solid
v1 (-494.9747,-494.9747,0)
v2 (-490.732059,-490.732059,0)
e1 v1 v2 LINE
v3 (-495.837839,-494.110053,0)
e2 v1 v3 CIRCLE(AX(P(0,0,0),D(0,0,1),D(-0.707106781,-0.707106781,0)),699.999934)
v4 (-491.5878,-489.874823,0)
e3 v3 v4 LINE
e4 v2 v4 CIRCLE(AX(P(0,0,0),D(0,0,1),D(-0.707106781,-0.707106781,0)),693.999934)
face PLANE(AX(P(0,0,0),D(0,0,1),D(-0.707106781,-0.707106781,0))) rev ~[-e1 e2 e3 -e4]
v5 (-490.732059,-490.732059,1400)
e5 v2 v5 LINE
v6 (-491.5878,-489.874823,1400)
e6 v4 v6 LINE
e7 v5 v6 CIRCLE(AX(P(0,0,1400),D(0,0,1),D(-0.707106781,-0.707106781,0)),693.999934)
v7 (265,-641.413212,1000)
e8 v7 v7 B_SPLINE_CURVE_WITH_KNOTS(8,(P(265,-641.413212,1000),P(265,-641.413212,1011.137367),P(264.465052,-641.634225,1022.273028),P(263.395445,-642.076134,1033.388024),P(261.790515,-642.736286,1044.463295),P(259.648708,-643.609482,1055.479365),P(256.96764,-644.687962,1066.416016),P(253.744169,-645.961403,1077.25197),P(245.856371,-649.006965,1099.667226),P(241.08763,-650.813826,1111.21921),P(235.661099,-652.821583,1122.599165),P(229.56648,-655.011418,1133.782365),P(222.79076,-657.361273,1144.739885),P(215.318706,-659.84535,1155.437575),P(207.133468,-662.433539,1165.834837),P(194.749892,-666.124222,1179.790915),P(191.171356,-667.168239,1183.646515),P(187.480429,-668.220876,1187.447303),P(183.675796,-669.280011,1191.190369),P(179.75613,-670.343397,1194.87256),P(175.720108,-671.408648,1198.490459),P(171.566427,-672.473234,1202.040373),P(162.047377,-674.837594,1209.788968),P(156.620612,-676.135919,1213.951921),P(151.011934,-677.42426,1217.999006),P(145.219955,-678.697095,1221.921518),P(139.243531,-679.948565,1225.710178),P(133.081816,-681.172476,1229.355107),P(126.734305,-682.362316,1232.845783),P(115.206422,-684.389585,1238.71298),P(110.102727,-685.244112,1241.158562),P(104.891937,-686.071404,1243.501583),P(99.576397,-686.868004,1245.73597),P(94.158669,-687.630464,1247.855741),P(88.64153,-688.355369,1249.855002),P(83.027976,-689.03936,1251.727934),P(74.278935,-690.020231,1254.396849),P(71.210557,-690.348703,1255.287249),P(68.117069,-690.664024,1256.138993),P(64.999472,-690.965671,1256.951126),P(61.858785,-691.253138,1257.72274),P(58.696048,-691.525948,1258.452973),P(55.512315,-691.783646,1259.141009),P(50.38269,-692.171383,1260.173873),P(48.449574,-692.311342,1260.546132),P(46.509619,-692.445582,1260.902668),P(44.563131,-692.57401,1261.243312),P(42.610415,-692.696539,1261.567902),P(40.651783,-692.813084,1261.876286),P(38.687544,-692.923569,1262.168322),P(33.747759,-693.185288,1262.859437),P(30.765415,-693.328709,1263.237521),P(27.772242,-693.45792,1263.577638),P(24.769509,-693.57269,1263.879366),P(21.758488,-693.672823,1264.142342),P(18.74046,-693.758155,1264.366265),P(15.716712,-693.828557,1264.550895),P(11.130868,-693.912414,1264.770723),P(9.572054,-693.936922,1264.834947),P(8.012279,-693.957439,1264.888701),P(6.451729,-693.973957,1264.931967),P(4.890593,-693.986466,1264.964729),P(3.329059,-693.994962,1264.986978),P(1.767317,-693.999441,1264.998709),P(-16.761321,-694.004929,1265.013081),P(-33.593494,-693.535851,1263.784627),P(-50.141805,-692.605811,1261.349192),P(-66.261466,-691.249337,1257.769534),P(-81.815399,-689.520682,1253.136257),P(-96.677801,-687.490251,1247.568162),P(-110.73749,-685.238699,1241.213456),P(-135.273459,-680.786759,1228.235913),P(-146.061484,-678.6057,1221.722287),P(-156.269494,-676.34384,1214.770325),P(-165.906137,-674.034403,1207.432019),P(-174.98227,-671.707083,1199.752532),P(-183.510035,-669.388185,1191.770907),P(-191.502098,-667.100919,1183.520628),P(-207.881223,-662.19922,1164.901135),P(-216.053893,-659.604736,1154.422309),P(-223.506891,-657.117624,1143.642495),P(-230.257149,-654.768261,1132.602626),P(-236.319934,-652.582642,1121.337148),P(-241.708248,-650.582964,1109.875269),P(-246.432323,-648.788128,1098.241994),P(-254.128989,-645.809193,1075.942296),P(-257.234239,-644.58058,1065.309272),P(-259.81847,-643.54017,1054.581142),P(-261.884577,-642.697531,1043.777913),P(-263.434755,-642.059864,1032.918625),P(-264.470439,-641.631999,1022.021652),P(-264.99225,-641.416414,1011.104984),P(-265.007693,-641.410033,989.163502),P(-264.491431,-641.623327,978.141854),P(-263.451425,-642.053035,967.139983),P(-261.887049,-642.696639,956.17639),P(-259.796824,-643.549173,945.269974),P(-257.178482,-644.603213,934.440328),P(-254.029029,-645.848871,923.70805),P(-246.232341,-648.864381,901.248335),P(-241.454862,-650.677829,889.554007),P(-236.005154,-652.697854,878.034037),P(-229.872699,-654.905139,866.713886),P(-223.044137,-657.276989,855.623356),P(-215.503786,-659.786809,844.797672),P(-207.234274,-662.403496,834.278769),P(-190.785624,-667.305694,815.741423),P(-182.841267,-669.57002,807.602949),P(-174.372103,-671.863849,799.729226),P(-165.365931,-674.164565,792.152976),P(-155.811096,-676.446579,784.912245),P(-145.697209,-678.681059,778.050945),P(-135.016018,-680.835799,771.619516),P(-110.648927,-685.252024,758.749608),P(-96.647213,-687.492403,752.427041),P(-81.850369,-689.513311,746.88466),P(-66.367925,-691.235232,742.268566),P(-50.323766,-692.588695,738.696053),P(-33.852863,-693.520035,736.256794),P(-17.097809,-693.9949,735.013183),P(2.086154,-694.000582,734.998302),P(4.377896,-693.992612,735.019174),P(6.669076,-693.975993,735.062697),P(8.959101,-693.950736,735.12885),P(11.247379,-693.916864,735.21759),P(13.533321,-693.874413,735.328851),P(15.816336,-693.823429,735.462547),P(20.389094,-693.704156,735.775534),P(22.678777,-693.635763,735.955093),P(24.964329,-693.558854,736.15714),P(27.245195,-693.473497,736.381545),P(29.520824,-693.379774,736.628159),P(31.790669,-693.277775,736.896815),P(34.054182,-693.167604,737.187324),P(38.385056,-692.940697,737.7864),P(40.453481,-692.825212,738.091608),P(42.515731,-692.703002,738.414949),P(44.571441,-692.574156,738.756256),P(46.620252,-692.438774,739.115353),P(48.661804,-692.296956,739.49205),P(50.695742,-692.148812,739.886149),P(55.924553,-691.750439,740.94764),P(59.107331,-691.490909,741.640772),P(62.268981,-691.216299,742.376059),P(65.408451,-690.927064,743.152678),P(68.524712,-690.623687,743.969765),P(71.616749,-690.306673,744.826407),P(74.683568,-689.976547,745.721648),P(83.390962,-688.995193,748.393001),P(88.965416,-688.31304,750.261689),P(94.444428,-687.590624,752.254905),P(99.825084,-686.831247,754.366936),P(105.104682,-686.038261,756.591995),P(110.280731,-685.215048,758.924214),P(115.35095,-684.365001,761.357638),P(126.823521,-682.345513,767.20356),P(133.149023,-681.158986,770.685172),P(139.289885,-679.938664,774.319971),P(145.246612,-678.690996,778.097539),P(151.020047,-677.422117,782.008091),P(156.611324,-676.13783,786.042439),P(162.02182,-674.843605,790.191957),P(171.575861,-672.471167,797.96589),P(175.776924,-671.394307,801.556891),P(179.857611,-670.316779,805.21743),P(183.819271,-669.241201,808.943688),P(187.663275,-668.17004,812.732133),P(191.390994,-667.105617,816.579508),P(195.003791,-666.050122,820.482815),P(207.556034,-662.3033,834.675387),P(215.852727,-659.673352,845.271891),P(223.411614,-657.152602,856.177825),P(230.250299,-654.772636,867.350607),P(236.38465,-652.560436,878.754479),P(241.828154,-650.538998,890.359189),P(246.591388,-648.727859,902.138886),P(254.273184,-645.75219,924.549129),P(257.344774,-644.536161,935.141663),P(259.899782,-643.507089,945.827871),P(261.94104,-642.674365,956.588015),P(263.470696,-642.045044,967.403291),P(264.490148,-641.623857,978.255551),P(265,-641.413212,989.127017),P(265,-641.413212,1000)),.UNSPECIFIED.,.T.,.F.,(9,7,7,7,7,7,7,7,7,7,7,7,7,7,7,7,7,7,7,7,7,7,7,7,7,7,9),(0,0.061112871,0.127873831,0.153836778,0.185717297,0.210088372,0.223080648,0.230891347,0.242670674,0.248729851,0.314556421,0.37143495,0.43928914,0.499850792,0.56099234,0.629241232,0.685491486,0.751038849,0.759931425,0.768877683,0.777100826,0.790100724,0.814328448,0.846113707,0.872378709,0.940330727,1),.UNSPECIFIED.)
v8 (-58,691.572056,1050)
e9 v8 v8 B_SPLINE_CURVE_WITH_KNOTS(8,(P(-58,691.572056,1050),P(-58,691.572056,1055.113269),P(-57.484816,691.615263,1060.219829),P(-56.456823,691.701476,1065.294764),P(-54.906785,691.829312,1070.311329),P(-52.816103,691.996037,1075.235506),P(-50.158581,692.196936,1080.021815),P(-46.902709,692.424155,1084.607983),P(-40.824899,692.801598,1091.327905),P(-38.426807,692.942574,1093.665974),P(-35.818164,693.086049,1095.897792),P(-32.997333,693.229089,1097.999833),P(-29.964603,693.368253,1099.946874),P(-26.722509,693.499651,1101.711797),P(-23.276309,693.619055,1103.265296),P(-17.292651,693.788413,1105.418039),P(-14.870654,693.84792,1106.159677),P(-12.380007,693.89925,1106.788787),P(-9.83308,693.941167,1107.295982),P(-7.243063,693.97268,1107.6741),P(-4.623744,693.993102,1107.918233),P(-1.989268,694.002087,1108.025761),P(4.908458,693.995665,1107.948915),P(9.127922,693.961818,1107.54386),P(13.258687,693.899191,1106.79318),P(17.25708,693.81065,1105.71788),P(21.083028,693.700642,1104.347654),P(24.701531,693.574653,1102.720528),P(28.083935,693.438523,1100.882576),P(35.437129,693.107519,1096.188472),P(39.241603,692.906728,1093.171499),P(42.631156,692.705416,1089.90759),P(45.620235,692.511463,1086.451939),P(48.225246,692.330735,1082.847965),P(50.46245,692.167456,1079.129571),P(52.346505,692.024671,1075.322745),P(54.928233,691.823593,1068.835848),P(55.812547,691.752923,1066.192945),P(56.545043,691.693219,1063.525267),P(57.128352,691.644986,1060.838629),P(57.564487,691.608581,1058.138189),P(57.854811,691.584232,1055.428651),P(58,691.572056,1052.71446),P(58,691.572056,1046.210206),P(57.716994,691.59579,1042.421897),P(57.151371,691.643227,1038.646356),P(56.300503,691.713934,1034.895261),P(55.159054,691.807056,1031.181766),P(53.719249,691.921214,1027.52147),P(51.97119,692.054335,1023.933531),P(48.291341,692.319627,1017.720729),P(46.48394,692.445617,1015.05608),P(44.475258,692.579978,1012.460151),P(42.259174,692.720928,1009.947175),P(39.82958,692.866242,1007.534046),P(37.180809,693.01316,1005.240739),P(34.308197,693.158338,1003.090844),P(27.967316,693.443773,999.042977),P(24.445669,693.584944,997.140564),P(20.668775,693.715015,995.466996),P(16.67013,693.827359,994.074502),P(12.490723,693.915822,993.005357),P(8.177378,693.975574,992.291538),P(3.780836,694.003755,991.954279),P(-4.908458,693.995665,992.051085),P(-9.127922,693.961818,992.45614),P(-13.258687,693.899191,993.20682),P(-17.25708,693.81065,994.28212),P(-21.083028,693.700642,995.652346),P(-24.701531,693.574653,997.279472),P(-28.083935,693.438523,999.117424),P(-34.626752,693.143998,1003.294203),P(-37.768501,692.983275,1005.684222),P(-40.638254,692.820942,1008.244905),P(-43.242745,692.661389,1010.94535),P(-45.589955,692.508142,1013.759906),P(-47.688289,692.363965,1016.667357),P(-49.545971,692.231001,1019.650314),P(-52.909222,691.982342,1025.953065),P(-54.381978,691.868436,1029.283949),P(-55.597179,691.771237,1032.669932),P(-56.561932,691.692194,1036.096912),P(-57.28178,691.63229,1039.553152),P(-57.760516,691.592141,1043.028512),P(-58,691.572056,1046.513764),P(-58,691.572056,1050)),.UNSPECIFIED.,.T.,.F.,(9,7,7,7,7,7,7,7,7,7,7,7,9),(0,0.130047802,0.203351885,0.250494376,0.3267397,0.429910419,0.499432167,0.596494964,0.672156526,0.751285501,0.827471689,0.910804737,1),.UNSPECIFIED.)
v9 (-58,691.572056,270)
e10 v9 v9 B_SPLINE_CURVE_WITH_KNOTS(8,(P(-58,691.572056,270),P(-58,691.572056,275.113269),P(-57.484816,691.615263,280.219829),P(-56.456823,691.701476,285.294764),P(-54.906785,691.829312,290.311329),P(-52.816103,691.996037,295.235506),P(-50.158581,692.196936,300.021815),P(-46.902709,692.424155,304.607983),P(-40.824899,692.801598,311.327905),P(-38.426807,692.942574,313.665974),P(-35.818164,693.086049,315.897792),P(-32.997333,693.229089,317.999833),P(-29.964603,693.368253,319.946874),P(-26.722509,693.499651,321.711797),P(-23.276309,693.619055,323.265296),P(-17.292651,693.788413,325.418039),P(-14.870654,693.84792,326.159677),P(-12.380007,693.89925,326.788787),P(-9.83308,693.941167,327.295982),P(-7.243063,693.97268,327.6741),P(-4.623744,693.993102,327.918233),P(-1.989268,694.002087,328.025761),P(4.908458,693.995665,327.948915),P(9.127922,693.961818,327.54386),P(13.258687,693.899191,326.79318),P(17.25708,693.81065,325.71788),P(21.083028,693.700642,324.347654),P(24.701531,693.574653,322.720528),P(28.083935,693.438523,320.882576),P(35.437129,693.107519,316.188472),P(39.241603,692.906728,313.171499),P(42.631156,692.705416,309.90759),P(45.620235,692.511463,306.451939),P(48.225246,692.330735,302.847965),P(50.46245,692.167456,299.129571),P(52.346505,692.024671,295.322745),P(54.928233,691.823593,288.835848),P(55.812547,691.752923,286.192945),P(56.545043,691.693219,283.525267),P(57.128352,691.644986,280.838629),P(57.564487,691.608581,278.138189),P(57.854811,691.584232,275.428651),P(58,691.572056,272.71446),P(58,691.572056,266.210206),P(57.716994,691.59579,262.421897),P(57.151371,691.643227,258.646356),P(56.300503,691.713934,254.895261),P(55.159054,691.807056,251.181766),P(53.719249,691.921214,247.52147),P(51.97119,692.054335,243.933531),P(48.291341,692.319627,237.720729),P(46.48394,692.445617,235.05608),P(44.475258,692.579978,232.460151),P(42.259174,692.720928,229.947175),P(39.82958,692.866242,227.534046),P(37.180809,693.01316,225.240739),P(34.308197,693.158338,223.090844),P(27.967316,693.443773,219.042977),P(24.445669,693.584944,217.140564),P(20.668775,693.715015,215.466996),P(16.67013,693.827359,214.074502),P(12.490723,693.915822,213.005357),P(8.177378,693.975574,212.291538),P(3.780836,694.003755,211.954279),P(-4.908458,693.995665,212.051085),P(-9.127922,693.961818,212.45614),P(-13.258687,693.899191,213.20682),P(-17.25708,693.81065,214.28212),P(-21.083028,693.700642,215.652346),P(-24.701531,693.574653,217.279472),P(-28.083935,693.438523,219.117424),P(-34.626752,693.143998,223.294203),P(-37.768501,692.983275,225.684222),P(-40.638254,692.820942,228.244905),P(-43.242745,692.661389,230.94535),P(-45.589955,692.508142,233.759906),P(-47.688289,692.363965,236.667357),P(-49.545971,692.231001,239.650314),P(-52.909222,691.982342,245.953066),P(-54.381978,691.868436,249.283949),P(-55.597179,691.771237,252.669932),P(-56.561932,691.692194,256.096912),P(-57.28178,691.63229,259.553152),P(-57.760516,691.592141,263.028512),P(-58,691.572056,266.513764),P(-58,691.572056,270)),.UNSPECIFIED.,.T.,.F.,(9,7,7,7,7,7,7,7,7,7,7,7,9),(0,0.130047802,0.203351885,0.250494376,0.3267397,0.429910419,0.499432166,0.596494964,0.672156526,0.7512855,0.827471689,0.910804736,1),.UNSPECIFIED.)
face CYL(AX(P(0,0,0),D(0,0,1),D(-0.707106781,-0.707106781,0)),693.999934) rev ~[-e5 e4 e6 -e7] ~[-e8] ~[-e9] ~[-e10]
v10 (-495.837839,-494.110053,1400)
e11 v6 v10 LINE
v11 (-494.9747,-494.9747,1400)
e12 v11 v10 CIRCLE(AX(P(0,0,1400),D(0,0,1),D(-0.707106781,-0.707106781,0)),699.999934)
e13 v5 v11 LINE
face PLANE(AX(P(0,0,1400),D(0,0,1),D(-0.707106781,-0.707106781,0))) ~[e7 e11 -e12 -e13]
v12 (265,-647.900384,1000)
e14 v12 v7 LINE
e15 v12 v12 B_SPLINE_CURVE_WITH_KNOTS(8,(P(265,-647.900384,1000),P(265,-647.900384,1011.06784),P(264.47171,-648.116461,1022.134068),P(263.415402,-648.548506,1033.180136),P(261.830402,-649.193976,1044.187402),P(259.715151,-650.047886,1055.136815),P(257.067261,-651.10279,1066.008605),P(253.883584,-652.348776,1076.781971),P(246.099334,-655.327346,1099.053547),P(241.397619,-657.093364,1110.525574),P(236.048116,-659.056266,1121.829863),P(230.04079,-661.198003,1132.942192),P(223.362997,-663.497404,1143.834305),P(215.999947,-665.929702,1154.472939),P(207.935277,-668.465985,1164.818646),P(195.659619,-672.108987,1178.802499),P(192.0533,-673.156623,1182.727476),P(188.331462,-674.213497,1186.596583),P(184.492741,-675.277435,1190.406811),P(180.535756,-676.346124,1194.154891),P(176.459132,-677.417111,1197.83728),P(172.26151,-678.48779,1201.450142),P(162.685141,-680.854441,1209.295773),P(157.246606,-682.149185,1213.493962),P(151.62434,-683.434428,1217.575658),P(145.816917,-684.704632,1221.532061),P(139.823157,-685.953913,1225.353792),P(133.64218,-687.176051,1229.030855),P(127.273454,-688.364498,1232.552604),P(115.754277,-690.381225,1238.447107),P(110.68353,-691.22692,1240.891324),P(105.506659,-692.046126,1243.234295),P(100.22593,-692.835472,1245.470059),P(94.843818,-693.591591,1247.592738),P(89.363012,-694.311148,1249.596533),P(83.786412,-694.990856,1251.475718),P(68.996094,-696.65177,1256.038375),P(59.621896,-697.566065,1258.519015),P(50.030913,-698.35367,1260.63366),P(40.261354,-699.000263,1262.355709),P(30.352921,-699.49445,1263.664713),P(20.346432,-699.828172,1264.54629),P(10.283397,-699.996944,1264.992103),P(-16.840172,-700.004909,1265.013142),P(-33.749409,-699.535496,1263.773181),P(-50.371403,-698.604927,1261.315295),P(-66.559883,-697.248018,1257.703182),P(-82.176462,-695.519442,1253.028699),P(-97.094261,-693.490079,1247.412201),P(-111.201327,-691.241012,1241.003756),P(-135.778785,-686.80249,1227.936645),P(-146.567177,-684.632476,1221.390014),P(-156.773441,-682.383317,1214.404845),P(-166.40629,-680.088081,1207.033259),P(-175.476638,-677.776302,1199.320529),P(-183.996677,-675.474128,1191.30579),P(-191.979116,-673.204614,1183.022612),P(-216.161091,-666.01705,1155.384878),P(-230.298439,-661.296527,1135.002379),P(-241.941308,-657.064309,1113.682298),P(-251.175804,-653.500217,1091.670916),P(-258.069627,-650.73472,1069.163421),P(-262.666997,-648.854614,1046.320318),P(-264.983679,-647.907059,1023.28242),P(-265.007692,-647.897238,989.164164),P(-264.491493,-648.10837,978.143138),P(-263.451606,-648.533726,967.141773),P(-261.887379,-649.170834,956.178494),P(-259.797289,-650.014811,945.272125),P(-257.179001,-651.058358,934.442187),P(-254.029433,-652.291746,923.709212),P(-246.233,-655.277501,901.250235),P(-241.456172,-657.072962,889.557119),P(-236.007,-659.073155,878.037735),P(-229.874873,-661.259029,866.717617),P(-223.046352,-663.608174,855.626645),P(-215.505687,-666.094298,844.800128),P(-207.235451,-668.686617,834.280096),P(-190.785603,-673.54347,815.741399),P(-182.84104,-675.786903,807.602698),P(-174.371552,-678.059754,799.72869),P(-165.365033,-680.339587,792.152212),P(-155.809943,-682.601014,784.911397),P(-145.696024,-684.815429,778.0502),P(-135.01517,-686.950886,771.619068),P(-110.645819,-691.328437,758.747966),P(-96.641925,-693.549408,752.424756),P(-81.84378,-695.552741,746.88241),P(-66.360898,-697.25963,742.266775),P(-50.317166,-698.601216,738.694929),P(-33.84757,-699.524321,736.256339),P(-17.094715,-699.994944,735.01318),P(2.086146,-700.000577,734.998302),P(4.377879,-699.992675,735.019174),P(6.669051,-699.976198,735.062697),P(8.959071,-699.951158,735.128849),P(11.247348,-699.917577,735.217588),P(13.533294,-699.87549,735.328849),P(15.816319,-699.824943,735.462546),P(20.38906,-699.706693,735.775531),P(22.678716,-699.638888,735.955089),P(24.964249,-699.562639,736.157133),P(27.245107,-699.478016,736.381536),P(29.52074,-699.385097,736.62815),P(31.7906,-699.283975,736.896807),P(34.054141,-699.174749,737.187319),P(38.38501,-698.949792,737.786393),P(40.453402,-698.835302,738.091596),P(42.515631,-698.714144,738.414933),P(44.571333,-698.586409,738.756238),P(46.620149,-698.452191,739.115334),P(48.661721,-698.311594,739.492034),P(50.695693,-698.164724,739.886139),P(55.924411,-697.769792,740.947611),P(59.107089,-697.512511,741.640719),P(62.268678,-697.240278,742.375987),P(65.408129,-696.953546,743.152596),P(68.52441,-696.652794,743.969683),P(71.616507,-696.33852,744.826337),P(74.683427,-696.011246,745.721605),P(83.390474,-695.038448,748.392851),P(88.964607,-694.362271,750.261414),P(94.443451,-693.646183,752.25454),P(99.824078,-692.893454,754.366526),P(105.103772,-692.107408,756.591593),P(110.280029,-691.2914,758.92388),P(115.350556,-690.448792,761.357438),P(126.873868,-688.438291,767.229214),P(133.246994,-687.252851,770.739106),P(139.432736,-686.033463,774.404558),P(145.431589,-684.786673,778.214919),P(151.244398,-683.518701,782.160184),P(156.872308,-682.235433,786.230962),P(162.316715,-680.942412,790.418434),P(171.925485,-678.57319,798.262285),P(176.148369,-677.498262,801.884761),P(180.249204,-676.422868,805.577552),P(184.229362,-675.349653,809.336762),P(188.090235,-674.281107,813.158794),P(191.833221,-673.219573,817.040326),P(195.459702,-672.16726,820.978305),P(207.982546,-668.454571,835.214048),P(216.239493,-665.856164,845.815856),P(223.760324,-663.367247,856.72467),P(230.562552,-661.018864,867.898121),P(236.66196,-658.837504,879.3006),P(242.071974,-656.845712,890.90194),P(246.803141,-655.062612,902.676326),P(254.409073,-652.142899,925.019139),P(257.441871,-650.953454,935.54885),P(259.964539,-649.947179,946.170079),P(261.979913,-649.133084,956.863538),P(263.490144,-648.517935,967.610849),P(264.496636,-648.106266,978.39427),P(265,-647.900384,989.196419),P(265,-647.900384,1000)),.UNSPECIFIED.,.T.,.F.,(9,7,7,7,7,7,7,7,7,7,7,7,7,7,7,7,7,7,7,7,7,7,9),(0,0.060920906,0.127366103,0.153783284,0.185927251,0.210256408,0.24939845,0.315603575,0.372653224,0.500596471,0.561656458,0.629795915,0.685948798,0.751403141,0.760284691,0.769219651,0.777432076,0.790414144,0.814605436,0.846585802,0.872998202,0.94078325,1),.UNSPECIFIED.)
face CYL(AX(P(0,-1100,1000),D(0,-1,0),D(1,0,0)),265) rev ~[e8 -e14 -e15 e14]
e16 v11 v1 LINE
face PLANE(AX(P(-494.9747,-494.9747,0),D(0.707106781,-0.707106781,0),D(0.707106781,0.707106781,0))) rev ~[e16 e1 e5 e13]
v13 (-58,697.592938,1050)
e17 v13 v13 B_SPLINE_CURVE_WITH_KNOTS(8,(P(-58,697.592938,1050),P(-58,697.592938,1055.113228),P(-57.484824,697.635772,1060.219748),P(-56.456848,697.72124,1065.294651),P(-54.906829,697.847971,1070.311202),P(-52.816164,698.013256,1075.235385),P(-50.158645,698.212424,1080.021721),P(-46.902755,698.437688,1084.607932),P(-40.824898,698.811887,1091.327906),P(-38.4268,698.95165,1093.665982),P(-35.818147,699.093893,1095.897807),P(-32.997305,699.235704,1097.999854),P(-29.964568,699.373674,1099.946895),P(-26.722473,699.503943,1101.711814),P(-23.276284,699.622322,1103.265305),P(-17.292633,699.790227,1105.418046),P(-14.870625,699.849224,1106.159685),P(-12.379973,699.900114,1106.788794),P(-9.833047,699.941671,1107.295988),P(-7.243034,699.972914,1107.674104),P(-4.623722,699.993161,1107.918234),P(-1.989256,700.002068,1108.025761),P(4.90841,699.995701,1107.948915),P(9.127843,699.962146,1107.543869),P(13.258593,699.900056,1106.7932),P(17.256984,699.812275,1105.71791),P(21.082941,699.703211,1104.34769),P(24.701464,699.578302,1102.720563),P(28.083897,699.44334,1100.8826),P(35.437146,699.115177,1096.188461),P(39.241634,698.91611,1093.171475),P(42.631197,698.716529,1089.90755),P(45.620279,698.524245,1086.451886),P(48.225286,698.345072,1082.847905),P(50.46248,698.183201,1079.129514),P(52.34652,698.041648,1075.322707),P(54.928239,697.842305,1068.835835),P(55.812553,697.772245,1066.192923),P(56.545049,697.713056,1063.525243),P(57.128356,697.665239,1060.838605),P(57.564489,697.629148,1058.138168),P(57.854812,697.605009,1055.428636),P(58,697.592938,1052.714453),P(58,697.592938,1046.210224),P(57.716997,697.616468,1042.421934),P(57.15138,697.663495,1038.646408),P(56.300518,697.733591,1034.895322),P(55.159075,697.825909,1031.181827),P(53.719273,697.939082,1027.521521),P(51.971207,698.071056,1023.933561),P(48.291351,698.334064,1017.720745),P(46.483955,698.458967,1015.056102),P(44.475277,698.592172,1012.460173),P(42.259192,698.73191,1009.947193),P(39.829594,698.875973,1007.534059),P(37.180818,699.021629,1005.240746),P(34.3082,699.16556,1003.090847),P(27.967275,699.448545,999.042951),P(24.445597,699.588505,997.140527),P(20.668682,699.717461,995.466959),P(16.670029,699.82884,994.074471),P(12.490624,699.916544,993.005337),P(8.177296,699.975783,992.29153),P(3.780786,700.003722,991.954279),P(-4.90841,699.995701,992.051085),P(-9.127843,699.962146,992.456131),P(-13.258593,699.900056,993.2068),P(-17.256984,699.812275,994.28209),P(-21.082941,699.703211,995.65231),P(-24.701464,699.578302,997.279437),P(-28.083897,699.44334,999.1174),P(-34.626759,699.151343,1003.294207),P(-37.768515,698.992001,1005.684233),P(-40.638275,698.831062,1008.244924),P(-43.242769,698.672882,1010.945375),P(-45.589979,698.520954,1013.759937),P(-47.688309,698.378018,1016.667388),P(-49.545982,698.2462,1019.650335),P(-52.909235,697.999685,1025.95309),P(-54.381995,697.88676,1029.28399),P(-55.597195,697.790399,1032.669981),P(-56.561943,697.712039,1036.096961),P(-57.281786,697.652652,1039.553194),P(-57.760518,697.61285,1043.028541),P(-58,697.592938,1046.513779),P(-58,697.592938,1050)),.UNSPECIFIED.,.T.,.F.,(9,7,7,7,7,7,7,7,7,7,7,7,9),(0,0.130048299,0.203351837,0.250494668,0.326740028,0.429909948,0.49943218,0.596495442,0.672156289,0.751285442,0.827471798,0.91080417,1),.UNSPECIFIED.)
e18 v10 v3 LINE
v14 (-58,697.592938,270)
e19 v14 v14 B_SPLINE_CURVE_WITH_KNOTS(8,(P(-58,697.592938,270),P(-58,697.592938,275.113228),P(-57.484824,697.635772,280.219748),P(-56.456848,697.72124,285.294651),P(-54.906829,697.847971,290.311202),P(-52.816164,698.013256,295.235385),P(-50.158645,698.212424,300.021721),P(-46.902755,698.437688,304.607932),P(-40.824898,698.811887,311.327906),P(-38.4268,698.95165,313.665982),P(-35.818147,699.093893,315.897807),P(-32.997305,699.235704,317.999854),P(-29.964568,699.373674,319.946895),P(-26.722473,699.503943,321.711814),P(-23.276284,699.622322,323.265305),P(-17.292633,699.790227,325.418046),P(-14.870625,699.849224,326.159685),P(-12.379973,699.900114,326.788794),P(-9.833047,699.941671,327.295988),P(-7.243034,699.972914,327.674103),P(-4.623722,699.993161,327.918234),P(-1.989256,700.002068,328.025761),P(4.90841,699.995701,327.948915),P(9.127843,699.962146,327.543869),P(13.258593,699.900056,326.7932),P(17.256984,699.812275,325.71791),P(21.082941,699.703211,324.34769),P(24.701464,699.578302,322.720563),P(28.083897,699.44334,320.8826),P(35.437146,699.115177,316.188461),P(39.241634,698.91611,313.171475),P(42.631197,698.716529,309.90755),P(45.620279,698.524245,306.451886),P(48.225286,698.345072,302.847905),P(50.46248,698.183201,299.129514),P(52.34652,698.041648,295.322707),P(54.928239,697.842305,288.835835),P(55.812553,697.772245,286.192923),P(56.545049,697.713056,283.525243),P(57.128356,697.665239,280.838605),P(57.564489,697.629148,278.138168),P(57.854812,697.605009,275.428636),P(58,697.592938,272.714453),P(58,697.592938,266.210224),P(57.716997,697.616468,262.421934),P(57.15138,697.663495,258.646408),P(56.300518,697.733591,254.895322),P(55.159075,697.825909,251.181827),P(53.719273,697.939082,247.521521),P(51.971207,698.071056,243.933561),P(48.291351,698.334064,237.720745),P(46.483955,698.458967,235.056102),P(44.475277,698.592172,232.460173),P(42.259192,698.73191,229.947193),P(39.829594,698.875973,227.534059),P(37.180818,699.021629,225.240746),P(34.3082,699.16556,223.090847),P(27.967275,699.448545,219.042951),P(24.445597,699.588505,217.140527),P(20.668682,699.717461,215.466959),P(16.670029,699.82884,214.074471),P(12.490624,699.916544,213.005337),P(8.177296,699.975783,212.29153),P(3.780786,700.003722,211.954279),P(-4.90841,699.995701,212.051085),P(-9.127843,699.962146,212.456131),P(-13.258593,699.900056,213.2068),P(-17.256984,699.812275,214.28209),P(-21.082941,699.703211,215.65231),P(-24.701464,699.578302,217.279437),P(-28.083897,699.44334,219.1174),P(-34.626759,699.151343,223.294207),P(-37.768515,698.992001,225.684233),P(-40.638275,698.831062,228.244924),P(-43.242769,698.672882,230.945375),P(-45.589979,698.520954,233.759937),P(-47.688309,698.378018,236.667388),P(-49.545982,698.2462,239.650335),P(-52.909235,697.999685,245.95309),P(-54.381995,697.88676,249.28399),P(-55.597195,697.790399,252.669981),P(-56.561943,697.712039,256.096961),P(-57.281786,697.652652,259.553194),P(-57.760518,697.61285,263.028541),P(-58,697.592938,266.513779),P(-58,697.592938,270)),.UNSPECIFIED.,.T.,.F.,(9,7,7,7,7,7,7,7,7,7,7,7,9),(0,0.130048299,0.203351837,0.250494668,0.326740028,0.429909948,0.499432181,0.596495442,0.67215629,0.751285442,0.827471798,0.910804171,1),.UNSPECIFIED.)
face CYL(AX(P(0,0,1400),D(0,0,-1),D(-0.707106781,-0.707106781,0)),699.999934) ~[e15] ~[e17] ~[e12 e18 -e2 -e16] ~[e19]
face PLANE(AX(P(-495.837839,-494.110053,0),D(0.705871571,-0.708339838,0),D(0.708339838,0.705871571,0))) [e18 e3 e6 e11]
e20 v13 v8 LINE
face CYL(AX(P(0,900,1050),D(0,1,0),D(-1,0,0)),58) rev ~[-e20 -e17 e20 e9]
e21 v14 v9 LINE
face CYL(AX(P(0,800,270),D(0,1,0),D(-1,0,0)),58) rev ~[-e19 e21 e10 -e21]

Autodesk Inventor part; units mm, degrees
sketch "floor angle sketch" plane through (0, 0, 0) normal (0, 0, 1) x (1, 0, 0)
  line L0 (0, 0) -> (0, -240.1382) construction
  line L1 (0, 0) -> (0, -1100)
  line L2 (-494.9747, -494.9747) -> (494.9747, 494.9747) construction
  circle A0 centre (0, 0) radius 700 construction
  line L3 (0, 0) -> (0, 900)
  line L4 (57, 900) -> (-57, 900)
  line L5 (-265, -1100) -> (265, -1100)
  line L6 (0, 0) -> (-342.0201, -939.6926)
  line L7 (0, 0) -> (0, 800)
  line L8 (57, 800) -> (-57, 800)
  line L9 (-403.1002, -917.4613) -> (-280.9401, -961.9239)
  dimension "d51" = 1400
  dimension "d52" = 45
  dimension "d54" = 0
  dimension "d55" = 180
  dimension "d56" = 530
  dimension "d58" = 114
  dimension "d59" = 114
  dimension "d60" = 180
  dimension "d61" = 800
  dimension "d62" = 130
  dimension "d63" = 20
  dimension "d64" = 900
  dimension "d65" = 1000
  dimension "d66" = 1100
ref_plane "SHELL Plane" through (-494.9747, -494.9747, 0) normal (0.7071, -0.7071, 0) x (0.7071, 0.7071, 0)
ref_plane "ACCESS Plane" through (-265, -1100, 0) normal (0, -1, 0) x (1, 0, 0)
ref_plane "OUTER Plane" through (57, 900, 0) normal (0, 1, 0) x (-1, 0, 0)
ref_plane "INNER Plane" through (57, 800, 0) normal (0, 1, 0) x (-1, 0, 0)
ref_plane "CHARGE Plane" through (-403.1002, -917.4613, 0) normal (-0.342, -0.9397, 0) x (0.9397, -0.342, 0)
sketch "Sketch13" plane through (-494.9747, -494.9747, 0) normal (0.7071, -0.7071, 0) x (0.7071, 0.7071, 0)
  line L0 (700, 0) -> (700, 892.6829)
  line L1 (0, 0) -> (6, 0)
  line L2 (6, 0) -> (6, 1400)
  line L3 (6, 1400) -> (0, 1400)
  line L4 (0, 1400) -> (0, 0)
  dimension "d75" = 1400
  dimension "d76" = 6
  dimension "d77" = 1400
revolve "Revolution2" add sketch "Sketch13" angle 359.9 about axis through (0, 0, 0) along (0, 0, 1)
sketch "Sketch14" plane through (-265, -1100, 0) normal (0, -1, 0) x (1, 0, 0)
  circle A0 centre (265, 1000) radius 265
  point P0 (265, 0)
  dimension "d79" = 1000
  dimension "d80" = 530
extrude "ACCESS" cut sketch "Sketch14" against normal up to next
sketch "Sketch15" plane through (57, 800, 0) normal (0, 1, 0) x (-1, 0, 0)
  circle A0 centre (57, 270) radius 58
  point P0 (57, 0)
  dimension "d84" = 116
  dimension "d85" = 270
extrude "INNER" cut sketch "Sketch15" against normal up to next
sketch "Sketch16" plane through (57, 900, 0) normal (0, 1, 0) x (-1, 0, 0)
  circle A0 centre (57, 1050) radius 58
  point P0 (57, 0)
  dimension "d88" = 1050
  dimension "d89" = 116
extrude "Extrusion9" cut sketch "Sketch16" against normal up to next
equation "\"BendRadius\" = Thickness"
equation "\"BendReliefWidth\" = Thickness"
equation "\"BendReliefDepth\" = 0.5 * Thickness"
equation "\"CornerReliefSize\" = 4 * Thickness"
equation "\"MinimumRemnant\" = 2 * Thickness"
equation "\"TransitionRadius\" = BendRadius"
equation "\"JacobiRadiusSize\" = BendRadius"
equation "\"GapSize\" = Thickness"
equation "\"Thickness\" = 6"
properties part number "ANP 1402 SHELL D1400" material "Steel"
